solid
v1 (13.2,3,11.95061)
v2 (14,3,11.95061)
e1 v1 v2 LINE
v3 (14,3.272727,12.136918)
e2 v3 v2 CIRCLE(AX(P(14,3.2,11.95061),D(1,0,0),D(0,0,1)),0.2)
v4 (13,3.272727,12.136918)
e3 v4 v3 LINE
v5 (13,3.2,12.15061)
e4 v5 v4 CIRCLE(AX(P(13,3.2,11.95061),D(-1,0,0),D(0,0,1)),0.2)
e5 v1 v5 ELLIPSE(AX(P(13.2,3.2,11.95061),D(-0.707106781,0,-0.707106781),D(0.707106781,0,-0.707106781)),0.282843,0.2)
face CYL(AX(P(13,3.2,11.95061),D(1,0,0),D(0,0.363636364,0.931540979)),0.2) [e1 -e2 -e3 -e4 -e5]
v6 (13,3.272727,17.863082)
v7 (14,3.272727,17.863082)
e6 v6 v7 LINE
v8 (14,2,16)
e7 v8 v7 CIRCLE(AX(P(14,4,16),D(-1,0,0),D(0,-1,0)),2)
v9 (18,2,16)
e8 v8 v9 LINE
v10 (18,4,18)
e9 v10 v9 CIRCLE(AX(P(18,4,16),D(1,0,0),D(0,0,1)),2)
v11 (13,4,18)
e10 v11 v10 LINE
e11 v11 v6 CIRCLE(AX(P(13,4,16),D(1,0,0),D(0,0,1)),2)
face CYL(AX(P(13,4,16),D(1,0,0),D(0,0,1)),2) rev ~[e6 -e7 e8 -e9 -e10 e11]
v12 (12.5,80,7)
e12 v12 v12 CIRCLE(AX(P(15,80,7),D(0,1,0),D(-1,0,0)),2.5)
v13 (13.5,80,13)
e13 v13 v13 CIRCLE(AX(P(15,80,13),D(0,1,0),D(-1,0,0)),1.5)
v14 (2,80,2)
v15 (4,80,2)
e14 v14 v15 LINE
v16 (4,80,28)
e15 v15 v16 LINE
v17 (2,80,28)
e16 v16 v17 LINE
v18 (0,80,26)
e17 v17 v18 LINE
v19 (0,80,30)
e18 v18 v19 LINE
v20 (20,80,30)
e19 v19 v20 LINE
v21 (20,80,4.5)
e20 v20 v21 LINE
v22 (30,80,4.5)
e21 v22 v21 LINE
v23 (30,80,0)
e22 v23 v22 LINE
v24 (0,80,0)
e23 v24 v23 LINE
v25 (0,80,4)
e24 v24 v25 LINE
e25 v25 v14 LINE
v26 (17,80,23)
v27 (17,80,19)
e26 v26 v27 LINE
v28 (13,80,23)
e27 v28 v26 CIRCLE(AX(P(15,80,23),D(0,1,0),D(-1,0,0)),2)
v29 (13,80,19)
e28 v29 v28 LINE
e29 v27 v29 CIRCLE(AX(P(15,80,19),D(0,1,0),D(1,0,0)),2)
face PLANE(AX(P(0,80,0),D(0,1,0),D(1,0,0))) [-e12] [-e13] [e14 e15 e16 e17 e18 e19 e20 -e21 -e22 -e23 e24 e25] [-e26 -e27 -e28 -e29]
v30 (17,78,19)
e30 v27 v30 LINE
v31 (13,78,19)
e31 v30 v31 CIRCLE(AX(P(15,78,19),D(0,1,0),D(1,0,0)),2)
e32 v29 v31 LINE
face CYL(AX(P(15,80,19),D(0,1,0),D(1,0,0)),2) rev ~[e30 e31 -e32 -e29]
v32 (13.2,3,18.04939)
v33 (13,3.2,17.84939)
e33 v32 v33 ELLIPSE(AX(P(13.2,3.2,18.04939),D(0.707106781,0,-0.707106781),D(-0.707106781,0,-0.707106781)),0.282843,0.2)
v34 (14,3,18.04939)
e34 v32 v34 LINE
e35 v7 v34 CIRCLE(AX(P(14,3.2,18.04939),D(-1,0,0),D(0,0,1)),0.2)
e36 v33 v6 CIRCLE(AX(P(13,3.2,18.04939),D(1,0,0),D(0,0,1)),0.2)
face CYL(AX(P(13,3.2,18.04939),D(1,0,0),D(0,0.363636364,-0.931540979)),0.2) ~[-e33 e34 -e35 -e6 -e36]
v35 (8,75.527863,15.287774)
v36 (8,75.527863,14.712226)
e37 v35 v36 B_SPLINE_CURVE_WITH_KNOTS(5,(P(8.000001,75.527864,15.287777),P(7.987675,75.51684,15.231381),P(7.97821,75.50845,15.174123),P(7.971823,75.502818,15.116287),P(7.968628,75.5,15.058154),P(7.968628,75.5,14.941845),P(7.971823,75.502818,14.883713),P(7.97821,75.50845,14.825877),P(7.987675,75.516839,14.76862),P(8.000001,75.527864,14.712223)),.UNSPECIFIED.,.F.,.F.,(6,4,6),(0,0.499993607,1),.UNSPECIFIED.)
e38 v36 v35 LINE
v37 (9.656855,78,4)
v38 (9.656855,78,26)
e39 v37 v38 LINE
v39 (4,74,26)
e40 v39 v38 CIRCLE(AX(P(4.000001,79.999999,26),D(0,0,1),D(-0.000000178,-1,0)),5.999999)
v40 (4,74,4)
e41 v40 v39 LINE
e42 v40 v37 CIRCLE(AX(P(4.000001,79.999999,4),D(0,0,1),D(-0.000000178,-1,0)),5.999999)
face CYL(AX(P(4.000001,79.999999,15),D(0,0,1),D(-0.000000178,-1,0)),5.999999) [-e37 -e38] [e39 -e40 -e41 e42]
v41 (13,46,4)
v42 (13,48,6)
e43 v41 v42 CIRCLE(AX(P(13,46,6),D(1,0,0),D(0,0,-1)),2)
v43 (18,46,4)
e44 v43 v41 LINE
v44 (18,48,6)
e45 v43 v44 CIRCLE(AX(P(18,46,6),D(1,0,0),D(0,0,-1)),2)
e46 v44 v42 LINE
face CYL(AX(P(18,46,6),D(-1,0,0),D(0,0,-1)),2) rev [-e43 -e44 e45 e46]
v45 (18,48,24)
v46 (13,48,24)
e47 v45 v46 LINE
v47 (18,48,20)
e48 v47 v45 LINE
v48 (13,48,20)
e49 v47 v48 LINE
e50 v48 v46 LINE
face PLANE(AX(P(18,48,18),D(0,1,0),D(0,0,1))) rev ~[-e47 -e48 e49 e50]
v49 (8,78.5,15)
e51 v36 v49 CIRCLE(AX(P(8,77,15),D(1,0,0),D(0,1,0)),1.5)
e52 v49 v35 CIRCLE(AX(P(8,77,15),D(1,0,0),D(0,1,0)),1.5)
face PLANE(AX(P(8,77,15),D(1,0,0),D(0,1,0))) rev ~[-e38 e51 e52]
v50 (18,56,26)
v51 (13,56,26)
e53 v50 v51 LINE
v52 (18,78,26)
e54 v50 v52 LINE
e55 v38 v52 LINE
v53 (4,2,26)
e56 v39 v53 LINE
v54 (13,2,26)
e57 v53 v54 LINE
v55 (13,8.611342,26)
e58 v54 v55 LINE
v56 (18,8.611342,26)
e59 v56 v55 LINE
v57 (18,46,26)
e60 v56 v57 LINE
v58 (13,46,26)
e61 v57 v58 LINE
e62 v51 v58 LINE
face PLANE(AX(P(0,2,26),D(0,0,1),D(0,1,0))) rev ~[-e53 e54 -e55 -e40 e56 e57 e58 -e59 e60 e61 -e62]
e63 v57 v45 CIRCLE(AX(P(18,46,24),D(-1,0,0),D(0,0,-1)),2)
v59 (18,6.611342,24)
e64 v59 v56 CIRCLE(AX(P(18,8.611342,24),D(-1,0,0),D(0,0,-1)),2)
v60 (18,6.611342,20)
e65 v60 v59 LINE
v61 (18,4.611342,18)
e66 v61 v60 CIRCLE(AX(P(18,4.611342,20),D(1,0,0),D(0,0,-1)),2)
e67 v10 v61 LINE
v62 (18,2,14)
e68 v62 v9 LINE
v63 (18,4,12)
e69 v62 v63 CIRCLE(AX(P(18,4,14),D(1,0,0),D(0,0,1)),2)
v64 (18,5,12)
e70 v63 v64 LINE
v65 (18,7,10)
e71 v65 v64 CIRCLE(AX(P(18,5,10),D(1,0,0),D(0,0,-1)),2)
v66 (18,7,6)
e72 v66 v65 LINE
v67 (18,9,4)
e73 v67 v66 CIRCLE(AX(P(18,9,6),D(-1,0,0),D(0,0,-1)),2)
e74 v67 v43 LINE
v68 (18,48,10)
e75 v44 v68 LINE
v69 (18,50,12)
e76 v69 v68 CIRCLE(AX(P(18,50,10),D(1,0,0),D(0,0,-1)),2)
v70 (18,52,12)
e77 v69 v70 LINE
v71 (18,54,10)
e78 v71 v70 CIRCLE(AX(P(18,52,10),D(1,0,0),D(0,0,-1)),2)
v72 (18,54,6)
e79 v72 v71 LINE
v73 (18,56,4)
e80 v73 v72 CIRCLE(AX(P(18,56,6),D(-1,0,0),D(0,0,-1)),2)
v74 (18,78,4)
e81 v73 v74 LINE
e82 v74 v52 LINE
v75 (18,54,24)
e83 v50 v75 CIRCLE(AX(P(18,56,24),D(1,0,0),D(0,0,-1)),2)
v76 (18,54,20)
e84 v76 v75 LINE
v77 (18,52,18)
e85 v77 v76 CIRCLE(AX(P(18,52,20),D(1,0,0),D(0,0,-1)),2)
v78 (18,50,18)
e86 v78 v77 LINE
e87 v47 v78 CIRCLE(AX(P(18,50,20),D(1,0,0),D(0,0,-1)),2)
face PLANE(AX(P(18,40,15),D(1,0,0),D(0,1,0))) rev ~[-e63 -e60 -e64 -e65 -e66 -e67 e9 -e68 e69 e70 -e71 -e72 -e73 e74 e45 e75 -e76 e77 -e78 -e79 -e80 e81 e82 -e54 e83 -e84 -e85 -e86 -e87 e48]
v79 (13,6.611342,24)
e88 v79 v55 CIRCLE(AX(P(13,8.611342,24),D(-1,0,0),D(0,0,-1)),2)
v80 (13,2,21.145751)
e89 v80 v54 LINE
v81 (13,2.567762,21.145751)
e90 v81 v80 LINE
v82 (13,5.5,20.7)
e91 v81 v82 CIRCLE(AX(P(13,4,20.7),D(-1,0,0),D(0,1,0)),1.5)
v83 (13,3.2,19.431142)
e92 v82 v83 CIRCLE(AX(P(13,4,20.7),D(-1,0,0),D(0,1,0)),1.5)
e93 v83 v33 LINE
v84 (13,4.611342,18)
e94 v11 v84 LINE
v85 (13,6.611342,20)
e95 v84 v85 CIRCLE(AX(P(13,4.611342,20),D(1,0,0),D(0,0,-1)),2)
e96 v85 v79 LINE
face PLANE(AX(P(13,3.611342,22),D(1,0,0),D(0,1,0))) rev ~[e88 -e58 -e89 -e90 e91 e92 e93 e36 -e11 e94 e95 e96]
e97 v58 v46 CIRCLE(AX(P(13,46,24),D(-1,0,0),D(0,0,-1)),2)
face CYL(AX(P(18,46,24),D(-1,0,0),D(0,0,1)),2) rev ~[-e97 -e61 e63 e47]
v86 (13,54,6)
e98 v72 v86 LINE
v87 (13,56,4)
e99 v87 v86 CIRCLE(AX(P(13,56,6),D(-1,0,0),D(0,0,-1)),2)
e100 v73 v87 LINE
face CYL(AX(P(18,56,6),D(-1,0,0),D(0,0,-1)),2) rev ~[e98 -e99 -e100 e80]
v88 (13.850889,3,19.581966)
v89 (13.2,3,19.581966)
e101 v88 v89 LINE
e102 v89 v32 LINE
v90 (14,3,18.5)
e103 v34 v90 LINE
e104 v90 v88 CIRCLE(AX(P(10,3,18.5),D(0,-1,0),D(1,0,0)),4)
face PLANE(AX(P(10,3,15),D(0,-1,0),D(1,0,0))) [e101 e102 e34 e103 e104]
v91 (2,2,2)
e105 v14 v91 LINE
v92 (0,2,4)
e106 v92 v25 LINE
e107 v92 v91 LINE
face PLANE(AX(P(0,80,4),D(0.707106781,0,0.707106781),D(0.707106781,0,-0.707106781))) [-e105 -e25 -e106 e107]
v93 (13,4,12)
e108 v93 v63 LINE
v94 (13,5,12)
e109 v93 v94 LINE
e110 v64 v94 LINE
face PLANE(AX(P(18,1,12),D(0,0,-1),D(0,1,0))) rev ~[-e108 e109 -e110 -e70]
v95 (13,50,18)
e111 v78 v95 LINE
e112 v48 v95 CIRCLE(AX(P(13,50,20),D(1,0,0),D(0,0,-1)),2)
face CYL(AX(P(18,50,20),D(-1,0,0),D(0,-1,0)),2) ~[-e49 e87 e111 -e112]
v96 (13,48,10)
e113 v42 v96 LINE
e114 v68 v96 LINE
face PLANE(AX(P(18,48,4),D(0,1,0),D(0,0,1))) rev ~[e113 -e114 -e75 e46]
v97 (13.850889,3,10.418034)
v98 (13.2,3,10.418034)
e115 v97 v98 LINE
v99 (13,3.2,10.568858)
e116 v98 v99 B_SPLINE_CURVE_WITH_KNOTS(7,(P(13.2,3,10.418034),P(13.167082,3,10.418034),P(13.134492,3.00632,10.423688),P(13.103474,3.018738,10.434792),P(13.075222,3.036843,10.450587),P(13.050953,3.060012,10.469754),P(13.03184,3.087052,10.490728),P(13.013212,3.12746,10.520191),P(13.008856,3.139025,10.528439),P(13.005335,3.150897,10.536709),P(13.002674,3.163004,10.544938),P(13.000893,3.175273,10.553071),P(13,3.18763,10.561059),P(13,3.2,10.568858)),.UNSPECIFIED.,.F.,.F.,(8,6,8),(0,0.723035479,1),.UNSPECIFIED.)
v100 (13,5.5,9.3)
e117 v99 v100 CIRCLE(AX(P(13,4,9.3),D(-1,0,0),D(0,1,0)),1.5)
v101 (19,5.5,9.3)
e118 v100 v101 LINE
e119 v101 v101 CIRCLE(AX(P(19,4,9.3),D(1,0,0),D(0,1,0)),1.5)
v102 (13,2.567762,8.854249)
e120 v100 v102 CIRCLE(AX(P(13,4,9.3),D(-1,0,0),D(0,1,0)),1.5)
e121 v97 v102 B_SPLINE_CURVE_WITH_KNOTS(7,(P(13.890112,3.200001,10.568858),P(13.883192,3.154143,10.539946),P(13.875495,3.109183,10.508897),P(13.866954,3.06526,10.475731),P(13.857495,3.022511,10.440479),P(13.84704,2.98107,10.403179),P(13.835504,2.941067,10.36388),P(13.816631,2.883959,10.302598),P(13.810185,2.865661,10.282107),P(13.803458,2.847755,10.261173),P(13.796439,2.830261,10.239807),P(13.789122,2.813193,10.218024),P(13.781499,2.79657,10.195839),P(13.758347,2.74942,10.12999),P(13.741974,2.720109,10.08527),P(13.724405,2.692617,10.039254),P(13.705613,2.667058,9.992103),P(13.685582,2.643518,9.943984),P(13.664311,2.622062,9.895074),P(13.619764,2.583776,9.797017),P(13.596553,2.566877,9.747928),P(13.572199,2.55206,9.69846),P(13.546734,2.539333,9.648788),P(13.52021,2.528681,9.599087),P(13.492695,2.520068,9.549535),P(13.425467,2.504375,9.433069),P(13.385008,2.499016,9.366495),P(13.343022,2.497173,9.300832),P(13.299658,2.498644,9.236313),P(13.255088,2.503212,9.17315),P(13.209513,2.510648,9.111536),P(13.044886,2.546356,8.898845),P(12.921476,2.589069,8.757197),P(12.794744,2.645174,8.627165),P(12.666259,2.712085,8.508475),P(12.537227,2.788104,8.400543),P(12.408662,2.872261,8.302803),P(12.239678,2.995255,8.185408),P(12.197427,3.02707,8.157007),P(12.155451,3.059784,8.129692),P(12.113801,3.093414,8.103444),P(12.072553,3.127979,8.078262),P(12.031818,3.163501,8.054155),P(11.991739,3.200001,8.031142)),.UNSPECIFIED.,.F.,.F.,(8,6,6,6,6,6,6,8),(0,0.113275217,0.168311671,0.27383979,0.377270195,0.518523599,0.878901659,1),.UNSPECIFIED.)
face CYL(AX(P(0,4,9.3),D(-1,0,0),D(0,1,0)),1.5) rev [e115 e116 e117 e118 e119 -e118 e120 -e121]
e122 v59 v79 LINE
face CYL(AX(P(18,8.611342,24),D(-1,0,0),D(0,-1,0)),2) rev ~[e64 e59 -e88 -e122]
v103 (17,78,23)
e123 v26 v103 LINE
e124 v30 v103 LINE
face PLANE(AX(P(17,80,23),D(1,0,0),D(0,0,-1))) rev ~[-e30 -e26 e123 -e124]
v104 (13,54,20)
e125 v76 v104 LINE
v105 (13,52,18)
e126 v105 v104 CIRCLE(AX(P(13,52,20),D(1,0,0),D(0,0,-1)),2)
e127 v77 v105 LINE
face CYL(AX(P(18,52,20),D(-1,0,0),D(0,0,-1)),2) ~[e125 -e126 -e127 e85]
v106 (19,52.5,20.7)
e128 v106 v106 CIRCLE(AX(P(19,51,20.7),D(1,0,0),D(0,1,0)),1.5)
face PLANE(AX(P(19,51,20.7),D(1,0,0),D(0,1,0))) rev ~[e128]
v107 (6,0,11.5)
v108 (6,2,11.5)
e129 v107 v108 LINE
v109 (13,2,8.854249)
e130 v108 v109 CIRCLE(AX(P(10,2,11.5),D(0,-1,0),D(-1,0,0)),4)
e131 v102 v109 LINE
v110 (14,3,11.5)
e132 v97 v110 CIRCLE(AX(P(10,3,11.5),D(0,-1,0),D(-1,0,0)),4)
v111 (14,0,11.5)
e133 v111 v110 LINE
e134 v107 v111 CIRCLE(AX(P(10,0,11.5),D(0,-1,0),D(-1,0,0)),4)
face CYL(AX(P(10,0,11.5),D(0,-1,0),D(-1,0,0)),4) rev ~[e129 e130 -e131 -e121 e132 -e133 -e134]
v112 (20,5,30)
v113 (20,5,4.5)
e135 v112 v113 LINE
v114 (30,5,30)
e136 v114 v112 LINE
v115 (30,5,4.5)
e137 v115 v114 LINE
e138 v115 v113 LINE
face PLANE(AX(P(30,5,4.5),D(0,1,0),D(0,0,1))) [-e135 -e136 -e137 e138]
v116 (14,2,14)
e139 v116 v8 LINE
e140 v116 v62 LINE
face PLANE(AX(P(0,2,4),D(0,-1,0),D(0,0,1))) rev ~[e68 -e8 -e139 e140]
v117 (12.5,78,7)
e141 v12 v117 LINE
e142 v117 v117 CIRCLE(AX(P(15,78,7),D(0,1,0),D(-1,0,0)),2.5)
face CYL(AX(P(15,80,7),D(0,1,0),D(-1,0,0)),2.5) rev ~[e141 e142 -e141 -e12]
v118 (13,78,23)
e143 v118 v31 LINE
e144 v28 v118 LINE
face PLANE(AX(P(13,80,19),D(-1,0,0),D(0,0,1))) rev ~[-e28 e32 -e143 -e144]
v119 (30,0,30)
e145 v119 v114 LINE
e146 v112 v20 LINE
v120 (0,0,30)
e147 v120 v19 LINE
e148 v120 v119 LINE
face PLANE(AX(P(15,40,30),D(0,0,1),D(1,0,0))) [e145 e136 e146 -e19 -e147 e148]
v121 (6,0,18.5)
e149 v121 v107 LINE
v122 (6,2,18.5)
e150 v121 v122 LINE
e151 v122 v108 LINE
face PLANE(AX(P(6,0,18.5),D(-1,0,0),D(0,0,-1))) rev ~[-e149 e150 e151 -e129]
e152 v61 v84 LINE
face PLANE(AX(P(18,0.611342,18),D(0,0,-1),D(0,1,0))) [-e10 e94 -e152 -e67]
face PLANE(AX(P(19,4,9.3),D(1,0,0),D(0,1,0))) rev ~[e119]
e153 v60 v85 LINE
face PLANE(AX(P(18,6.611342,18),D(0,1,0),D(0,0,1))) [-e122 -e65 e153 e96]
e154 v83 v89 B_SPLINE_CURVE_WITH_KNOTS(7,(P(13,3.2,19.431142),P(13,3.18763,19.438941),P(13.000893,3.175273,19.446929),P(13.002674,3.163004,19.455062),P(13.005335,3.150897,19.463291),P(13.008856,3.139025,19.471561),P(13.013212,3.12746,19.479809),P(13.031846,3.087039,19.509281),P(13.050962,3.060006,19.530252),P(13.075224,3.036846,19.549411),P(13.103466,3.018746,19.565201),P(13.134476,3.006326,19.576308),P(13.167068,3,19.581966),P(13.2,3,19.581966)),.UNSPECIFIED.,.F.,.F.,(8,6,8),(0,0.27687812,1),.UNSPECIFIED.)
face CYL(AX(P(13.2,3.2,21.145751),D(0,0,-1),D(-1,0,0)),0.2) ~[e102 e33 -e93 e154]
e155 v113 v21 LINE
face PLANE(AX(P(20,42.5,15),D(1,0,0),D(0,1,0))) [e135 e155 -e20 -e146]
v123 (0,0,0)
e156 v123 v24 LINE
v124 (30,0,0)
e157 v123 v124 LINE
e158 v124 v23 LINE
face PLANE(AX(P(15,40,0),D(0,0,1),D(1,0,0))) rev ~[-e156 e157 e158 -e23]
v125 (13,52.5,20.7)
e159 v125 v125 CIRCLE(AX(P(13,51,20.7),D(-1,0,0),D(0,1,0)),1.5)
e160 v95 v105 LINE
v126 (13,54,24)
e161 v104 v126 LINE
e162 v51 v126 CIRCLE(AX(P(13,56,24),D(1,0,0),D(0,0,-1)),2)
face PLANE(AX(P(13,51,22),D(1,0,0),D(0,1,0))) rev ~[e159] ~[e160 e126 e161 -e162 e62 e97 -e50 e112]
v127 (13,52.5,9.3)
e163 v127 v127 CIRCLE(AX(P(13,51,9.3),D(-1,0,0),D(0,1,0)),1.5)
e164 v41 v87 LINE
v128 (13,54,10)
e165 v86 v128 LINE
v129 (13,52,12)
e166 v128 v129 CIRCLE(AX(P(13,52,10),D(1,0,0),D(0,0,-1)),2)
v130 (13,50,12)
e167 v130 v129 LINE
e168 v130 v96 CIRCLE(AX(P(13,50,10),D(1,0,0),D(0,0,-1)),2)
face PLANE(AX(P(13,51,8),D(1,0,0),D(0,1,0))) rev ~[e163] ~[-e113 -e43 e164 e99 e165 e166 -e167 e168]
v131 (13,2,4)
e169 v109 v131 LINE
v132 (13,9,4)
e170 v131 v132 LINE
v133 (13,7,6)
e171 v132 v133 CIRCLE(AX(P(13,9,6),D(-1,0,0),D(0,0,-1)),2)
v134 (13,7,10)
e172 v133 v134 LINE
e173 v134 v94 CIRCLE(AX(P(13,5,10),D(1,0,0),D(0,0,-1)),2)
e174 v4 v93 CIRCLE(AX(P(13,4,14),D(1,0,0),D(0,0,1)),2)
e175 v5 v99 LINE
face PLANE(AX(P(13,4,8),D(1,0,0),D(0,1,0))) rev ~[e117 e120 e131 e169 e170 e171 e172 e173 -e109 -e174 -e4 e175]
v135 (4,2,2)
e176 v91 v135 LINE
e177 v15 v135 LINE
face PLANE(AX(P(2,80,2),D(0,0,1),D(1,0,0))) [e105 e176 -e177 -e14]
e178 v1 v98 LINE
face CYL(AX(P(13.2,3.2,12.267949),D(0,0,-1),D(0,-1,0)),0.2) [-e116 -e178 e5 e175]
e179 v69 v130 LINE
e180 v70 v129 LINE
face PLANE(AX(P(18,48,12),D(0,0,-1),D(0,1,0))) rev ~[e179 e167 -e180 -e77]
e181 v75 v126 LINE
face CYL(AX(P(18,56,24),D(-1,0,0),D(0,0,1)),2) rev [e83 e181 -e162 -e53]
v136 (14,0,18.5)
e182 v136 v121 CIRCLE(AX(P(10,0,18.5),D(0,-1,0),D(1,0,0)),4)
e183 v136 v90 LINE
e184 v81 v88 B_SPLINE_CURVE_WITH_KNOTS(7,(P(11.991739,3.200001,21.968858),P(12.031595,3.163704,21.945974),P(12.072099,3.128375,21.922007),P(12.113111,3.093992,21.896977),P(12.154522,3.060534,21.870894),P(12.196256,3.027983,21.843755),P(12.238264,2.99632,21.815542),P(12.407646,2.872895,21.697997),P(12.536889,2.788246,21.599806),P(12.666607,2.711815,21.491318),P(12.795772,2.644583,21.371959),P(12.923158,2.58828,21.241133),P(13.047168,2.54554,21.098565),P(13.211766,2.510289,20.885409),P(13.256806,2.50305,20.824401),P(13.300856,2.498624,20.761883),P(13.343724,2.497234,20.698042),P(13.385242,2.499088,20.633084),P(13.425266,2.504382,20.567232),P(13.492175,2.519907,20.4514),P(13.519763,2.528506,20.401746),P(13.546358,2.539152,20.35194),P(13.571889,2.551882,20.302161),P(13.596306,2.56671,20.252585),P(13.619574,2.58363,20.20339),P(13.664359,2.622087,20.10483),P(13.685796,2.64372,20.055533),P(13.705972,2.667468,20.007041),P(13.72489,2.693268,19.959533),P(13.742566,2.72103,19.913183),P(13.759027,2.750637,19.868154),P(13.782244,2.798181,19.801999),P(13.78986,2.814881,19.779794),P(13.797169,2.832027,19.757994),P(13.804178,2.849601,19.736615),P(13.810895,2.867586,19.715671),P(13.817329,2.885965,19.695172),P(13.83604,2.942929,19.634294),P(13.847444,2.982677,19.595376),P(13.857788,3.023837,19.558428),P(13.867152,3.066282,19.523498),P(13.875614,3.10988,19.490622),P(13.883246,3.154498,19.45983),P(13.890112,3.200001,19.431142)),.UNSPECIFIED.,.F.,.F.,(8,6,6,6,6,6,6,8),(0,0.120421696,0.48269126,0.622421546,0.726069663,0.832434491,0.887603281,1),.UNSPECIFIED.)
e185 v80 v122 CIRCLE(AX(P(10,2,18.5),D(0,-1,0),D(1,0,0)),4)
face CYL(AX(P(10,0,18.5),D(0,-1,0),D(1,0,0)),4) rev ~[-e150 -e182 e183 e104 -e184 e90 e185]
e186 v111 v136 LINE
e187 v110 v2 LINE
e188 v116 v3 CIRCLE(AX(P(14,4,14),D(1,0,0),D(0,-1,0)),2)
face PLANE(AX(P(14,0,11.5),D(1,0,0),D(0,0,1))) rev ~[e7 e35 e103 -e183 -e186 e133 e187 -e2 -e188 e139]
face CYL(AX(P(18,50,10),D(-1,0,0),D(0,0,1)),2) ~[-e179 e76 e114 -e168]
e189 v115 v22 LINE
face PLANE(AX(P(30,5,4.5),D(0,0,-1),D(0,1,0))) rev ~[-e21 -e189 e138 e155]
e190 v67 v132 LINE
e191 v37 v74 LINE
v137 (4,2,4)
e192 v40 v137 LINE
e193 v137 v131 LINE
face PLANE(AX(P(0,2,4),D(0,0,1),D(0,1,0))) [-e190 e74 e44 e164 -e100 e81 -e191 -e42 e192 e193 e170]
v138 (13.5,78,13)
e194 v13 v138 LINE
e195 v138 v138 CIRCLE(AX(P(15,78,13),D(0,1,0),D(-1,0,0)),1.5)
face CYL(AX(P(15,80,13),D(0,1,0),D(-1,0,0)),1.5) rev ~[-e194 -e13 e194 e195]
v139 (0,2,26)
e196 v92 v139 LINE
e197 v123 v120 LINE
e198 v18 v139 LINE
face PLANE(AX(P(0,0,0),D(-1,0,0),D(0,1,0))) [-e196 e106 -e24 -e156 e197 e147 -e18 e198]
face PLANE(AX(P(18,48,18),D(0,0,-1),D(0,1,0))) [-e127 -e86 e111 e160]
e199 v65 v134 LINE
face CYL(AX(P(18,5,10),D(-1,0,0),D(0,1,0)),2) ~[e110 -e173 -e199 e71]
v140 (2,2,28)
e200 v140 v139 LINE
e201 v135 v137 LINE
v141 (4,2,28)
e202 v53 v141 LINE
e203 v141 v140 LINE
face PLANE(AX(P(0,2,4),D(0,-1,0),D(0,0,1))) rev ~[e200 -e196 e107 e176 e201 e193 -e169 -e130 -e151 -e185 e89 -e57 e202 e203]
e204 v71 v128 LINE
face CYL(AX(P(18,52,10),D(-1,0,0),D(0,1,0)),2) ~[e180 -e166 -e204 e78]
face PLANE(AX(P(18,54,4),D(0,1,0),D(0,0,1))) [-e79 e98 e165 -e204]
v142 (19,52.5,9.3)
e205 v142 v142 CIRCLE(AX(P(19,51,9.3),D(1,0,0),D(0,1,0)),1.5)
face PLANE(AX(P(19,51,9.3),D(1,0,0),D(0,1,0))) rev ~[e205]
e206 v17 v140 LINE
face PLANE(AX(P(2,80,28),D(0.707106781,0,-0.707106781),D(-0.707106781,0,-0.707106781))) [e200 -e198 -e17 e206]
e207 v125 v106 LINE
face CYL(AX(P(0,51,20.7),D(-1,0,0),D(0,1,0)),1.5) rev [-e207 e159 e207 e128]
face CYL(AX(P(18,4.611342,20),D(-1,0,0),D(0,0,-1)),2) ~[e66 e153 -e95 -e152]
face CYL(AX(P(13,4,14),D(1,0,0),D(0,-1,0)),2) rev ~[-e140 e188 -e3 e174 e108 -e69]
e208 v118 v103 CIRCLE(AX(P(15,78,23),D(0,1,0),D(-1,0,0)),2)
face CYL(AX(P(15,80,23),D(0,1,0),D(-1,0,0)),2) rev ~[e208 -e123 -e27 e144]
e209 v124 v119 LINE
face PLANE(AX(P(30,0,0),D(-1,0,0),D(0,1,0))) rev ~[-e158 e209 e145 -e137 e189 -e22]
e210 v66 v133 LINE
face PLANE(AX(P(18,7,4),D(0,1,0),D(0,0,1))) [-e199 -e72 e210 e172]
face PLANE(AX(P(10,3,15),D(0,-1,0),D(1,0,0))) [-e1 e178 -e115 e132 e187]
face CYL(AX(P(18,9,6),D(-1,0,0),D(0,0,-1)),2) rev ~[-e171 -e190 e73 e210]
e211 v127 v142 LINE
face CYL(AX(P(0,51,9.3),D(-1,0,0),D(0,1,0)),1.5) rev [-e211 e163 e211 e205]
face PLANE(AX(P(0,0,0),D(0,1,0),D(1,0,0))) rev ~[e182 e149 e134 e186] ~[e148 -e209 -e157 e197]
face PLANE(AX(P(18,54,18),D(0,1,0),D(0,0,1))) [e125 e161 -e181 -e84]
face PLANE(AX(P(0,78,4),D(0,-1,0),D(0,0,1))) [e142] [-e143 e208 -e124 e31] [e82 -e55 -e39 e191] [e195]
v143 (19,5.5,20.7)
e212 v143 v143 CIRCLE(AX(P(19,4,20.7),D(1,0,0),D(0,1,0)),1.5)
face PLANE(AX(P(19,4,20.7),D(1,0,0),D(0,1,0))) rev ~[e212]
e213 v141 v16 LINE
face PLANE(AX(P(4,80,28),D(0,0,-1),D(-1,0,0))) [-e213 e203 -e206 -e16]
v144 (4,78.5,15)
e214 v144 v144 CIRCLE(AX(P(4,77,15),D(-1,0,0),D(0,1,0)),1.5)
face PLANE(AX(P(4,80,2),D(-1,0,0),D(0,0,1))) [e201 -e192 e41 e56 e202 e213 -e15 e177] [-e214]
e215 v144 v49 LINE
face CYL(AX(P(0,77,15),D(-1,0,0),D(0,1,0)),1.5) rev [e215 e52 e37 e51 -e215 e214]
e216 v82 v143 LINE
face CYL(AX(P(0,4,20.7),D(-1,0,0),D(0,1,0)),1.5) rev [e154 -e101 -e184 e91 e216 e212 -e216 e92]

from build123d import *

# Parameters (mm, degrees)
BOX_W           = 30
BOX_H           = 80
BOX_DEPTH       = 30
SKETCH_W        = 75
SKETCH_H        = 21
POCKET_DEPTH    = 10
SKETCH001_W     = 76
SKETCH001_H     = 22
POCKET001_DEPTH = 18
POCKET002_DEPTH = 78
SKETCH003_W     = 6
SKETCH003_H     = 8
PAD_DEPTH       = 5
FILLET_R        = 2
POCKET003_DEPTH = 3
FILLET001_R     = 0.2
SKETCH005_R     = 1.5
POCKET004_DEPTH = 19
SKETCH006_R     = 1.5
SKETCH006_R_2   = 2.5
POCKET005_DEPTH = 5
PAD001_DEPTH    = 13
SKETCH008_R     = 1.5
POCKET006_DEPTH = 8
SKETCH009_W     = 75
SKETCH009_H     = 25
POCKET007_DEPTH = 10


with BuildPart() as part:
    # Box → Box (join)
    with BuildSketch(Plane.XY):
        with Locations((15, 40)):
            Rectangle(BOX_W, BOX_H)
    extrude(amount=BOX_DEPTH)

    # Sketch (on Face2 of Box) → Pocket (cut)
    with BuildSketch(Plane.YZ.offset(30)):
        with Locations((42.5, 15)):
            Rectangle(SKETCH_W, SKETCH_H)
    extrude(amount=-POCKET_DEPTH, mode=Mode.SUBTRACT)

    # Sketch001 → Pocket001 (cut)
    with BuildSketch(Plane.YZ):
        with Locations((40, 15)):
            Rectangle(SKETCH001_W, SKETCH001_H)
    extrude(amount=POCKET001_DEPTH, mode=Mode.SUBTRACT)

    # Sketch002 (on Face5 of Pocket001) → Pocket002 (cut)
    with BuildSketch(Plane(origin=(0, 80, 0), x_dir=(-1, 0, 0), z_dir=(0, 1, 0))):
        Polygon((-4, 28), (-2, 28), (0, 26), (5, 26), (5, 4), (0, 4), (-2, 2), (-4, 2), align=None)
    extrude(amount=-POCKET002_DEPTH, mode=Mode.SUBTRACT)

    # Sketch003 → Pad (join)
    with BuildSketch(Plane.YZ.offset(18)):
        with Locations((51, 22)):
            Rectangle(SKETCH003_W, SKETCH003_H)
        with Locations((51, 8)):
            Rectangle(SKETCH003_W, SKETCH003_H)
        with Locations((3.611342, 22)):
            Rectangle(SKETCH003_W, SKETCH003_H)
        with Locations((4, 8)):
            Rectangle(SKETCH003_W, SKETCH003_H)
    extrude(amount=-PAD_DEPTH)

    # Fillet
    fillet_edges = [part.edges().sort_by_distance(p)[0] for p in [
        (15.5, 2, 18),
        (15.5, 2, 12),
        (15.5, 7, 12),
        (15.5, 6.611342, 18),
        (15.5, 48, 12),
        (15.5, 54, 12),
        (15.5, 48, 4),
        (15.5, 54, 4),
        (15.5, 54, 18),
        (15.5, 48, 18),
        (15.5, 48, 26),
        (15.5, 54, 26),
        (15.5, 7, 4),
        (15.5, 6.611342, 26),
    ]]
    fillet(fillet_edges, radius=FILLET_R)

    # Sketch004 (on Face46 of Fillet) → Pocket003 (cut)
    with BuildSketch(Plane.XZ):
        with BuildLine():
            ThreePointArc((14, 18.5), (10, 22.5), (6, 18.5))
            Line((6, 18.5), (6, 11.5))
            ThreePointArc((6, 11.5), (10, 7.5), (14, 11.5))
            Line((14, 11.5), (14, 18.5))
        make_face()
    extrude(amount=-POCKET003_DEPTH, mode=Mode.SUBTRACT)

    # Fillet001
    fillet001_edges = [part.edges().sort_by_distance(p)[0] for p in [
        (13, 3, 19.438901),
        (13.5, 3, 17.732051),
        (13.5, 3, 12.267949),
        (13, 3, 10.561099),
    ]]
    fillet(fillet001_edges, radius=FILLET001_R)

    # Sketch005 → Pocket004 (cut)
    with BuildSketch(Plane.YZ):
        with Locations((4, 9.3)):
            Circle(SKETCH005_R)
        with Locations((4, 20.7)):
            Circle(SKETCH005_R)
        with Locations((51, 9.3)):
            Circle(SKETCH005_R)
        with Locations((51, 20.7)):
            Circle(SKETCH005_R)
    extrude(amount=POCKET004_DEPTH, mode=Mode.SUBTRACT)

    # Sketch006 (on Face58 of Pocket004) → Pocket005 (cut)
    with BuildSketch(Plane(origin=(0, 80, 0), x_dir=(-1, 0, 0), z_dir=(0, 1, 0))):
        with Locations((-15, 13)):
            Circle(SKETCH006_R)
        with Locations((-15, 7)):
            Circle(SKETCH006_R_2)
        with BuildLine():
            ThreePointArc((-13, 23), (-15, 25), (-17, 23))
            Line((-17, 23), (-17, 19))
            ThreePointArc((-17, 19), (-15, 17), (-13, 19))
            Line((-13, 19), (-13, 23))
        make_face()
    extrude(amount=-POCKET005_DEPTH, mode=Mode.SUBTRACT)

    # Sketch007 → Pad001 (join, symmetric)
    with BuildSketch(Plane.XY.offset(15)):
        with BuildLine():
            Line((4, 80), (10, 80))
            ThreePointArc((4, 74), (8.242641, 75.757359), (10, 80))
            Line((4, 80), (4, 74))
        make_face()
    extrude(amount=PAD001_DEPTH, both=True)

    # Sketch008 → Pocket006 (cut)
    with BuildSketch(Plane.YZ):
        with Locations((77, 15)):
            Circle(SKETCH008_R)
    extrude(amount=POCKET006_DEPTH, mode=Mode.SUBTRACT)

    # Sketch009 (on Face49 of Pocket006) → Pocket007 (cut)
    with BuildSketch(Plane.YZ.offset(30)):
        with Locations((42.5, 32.5)):
            Rectangle(SKETCH009_W, SKETCH009_H)
    extrude(amount=-POCKET007_DEPTH, mode=Mode.SUBTRACT)


solid = part.part
